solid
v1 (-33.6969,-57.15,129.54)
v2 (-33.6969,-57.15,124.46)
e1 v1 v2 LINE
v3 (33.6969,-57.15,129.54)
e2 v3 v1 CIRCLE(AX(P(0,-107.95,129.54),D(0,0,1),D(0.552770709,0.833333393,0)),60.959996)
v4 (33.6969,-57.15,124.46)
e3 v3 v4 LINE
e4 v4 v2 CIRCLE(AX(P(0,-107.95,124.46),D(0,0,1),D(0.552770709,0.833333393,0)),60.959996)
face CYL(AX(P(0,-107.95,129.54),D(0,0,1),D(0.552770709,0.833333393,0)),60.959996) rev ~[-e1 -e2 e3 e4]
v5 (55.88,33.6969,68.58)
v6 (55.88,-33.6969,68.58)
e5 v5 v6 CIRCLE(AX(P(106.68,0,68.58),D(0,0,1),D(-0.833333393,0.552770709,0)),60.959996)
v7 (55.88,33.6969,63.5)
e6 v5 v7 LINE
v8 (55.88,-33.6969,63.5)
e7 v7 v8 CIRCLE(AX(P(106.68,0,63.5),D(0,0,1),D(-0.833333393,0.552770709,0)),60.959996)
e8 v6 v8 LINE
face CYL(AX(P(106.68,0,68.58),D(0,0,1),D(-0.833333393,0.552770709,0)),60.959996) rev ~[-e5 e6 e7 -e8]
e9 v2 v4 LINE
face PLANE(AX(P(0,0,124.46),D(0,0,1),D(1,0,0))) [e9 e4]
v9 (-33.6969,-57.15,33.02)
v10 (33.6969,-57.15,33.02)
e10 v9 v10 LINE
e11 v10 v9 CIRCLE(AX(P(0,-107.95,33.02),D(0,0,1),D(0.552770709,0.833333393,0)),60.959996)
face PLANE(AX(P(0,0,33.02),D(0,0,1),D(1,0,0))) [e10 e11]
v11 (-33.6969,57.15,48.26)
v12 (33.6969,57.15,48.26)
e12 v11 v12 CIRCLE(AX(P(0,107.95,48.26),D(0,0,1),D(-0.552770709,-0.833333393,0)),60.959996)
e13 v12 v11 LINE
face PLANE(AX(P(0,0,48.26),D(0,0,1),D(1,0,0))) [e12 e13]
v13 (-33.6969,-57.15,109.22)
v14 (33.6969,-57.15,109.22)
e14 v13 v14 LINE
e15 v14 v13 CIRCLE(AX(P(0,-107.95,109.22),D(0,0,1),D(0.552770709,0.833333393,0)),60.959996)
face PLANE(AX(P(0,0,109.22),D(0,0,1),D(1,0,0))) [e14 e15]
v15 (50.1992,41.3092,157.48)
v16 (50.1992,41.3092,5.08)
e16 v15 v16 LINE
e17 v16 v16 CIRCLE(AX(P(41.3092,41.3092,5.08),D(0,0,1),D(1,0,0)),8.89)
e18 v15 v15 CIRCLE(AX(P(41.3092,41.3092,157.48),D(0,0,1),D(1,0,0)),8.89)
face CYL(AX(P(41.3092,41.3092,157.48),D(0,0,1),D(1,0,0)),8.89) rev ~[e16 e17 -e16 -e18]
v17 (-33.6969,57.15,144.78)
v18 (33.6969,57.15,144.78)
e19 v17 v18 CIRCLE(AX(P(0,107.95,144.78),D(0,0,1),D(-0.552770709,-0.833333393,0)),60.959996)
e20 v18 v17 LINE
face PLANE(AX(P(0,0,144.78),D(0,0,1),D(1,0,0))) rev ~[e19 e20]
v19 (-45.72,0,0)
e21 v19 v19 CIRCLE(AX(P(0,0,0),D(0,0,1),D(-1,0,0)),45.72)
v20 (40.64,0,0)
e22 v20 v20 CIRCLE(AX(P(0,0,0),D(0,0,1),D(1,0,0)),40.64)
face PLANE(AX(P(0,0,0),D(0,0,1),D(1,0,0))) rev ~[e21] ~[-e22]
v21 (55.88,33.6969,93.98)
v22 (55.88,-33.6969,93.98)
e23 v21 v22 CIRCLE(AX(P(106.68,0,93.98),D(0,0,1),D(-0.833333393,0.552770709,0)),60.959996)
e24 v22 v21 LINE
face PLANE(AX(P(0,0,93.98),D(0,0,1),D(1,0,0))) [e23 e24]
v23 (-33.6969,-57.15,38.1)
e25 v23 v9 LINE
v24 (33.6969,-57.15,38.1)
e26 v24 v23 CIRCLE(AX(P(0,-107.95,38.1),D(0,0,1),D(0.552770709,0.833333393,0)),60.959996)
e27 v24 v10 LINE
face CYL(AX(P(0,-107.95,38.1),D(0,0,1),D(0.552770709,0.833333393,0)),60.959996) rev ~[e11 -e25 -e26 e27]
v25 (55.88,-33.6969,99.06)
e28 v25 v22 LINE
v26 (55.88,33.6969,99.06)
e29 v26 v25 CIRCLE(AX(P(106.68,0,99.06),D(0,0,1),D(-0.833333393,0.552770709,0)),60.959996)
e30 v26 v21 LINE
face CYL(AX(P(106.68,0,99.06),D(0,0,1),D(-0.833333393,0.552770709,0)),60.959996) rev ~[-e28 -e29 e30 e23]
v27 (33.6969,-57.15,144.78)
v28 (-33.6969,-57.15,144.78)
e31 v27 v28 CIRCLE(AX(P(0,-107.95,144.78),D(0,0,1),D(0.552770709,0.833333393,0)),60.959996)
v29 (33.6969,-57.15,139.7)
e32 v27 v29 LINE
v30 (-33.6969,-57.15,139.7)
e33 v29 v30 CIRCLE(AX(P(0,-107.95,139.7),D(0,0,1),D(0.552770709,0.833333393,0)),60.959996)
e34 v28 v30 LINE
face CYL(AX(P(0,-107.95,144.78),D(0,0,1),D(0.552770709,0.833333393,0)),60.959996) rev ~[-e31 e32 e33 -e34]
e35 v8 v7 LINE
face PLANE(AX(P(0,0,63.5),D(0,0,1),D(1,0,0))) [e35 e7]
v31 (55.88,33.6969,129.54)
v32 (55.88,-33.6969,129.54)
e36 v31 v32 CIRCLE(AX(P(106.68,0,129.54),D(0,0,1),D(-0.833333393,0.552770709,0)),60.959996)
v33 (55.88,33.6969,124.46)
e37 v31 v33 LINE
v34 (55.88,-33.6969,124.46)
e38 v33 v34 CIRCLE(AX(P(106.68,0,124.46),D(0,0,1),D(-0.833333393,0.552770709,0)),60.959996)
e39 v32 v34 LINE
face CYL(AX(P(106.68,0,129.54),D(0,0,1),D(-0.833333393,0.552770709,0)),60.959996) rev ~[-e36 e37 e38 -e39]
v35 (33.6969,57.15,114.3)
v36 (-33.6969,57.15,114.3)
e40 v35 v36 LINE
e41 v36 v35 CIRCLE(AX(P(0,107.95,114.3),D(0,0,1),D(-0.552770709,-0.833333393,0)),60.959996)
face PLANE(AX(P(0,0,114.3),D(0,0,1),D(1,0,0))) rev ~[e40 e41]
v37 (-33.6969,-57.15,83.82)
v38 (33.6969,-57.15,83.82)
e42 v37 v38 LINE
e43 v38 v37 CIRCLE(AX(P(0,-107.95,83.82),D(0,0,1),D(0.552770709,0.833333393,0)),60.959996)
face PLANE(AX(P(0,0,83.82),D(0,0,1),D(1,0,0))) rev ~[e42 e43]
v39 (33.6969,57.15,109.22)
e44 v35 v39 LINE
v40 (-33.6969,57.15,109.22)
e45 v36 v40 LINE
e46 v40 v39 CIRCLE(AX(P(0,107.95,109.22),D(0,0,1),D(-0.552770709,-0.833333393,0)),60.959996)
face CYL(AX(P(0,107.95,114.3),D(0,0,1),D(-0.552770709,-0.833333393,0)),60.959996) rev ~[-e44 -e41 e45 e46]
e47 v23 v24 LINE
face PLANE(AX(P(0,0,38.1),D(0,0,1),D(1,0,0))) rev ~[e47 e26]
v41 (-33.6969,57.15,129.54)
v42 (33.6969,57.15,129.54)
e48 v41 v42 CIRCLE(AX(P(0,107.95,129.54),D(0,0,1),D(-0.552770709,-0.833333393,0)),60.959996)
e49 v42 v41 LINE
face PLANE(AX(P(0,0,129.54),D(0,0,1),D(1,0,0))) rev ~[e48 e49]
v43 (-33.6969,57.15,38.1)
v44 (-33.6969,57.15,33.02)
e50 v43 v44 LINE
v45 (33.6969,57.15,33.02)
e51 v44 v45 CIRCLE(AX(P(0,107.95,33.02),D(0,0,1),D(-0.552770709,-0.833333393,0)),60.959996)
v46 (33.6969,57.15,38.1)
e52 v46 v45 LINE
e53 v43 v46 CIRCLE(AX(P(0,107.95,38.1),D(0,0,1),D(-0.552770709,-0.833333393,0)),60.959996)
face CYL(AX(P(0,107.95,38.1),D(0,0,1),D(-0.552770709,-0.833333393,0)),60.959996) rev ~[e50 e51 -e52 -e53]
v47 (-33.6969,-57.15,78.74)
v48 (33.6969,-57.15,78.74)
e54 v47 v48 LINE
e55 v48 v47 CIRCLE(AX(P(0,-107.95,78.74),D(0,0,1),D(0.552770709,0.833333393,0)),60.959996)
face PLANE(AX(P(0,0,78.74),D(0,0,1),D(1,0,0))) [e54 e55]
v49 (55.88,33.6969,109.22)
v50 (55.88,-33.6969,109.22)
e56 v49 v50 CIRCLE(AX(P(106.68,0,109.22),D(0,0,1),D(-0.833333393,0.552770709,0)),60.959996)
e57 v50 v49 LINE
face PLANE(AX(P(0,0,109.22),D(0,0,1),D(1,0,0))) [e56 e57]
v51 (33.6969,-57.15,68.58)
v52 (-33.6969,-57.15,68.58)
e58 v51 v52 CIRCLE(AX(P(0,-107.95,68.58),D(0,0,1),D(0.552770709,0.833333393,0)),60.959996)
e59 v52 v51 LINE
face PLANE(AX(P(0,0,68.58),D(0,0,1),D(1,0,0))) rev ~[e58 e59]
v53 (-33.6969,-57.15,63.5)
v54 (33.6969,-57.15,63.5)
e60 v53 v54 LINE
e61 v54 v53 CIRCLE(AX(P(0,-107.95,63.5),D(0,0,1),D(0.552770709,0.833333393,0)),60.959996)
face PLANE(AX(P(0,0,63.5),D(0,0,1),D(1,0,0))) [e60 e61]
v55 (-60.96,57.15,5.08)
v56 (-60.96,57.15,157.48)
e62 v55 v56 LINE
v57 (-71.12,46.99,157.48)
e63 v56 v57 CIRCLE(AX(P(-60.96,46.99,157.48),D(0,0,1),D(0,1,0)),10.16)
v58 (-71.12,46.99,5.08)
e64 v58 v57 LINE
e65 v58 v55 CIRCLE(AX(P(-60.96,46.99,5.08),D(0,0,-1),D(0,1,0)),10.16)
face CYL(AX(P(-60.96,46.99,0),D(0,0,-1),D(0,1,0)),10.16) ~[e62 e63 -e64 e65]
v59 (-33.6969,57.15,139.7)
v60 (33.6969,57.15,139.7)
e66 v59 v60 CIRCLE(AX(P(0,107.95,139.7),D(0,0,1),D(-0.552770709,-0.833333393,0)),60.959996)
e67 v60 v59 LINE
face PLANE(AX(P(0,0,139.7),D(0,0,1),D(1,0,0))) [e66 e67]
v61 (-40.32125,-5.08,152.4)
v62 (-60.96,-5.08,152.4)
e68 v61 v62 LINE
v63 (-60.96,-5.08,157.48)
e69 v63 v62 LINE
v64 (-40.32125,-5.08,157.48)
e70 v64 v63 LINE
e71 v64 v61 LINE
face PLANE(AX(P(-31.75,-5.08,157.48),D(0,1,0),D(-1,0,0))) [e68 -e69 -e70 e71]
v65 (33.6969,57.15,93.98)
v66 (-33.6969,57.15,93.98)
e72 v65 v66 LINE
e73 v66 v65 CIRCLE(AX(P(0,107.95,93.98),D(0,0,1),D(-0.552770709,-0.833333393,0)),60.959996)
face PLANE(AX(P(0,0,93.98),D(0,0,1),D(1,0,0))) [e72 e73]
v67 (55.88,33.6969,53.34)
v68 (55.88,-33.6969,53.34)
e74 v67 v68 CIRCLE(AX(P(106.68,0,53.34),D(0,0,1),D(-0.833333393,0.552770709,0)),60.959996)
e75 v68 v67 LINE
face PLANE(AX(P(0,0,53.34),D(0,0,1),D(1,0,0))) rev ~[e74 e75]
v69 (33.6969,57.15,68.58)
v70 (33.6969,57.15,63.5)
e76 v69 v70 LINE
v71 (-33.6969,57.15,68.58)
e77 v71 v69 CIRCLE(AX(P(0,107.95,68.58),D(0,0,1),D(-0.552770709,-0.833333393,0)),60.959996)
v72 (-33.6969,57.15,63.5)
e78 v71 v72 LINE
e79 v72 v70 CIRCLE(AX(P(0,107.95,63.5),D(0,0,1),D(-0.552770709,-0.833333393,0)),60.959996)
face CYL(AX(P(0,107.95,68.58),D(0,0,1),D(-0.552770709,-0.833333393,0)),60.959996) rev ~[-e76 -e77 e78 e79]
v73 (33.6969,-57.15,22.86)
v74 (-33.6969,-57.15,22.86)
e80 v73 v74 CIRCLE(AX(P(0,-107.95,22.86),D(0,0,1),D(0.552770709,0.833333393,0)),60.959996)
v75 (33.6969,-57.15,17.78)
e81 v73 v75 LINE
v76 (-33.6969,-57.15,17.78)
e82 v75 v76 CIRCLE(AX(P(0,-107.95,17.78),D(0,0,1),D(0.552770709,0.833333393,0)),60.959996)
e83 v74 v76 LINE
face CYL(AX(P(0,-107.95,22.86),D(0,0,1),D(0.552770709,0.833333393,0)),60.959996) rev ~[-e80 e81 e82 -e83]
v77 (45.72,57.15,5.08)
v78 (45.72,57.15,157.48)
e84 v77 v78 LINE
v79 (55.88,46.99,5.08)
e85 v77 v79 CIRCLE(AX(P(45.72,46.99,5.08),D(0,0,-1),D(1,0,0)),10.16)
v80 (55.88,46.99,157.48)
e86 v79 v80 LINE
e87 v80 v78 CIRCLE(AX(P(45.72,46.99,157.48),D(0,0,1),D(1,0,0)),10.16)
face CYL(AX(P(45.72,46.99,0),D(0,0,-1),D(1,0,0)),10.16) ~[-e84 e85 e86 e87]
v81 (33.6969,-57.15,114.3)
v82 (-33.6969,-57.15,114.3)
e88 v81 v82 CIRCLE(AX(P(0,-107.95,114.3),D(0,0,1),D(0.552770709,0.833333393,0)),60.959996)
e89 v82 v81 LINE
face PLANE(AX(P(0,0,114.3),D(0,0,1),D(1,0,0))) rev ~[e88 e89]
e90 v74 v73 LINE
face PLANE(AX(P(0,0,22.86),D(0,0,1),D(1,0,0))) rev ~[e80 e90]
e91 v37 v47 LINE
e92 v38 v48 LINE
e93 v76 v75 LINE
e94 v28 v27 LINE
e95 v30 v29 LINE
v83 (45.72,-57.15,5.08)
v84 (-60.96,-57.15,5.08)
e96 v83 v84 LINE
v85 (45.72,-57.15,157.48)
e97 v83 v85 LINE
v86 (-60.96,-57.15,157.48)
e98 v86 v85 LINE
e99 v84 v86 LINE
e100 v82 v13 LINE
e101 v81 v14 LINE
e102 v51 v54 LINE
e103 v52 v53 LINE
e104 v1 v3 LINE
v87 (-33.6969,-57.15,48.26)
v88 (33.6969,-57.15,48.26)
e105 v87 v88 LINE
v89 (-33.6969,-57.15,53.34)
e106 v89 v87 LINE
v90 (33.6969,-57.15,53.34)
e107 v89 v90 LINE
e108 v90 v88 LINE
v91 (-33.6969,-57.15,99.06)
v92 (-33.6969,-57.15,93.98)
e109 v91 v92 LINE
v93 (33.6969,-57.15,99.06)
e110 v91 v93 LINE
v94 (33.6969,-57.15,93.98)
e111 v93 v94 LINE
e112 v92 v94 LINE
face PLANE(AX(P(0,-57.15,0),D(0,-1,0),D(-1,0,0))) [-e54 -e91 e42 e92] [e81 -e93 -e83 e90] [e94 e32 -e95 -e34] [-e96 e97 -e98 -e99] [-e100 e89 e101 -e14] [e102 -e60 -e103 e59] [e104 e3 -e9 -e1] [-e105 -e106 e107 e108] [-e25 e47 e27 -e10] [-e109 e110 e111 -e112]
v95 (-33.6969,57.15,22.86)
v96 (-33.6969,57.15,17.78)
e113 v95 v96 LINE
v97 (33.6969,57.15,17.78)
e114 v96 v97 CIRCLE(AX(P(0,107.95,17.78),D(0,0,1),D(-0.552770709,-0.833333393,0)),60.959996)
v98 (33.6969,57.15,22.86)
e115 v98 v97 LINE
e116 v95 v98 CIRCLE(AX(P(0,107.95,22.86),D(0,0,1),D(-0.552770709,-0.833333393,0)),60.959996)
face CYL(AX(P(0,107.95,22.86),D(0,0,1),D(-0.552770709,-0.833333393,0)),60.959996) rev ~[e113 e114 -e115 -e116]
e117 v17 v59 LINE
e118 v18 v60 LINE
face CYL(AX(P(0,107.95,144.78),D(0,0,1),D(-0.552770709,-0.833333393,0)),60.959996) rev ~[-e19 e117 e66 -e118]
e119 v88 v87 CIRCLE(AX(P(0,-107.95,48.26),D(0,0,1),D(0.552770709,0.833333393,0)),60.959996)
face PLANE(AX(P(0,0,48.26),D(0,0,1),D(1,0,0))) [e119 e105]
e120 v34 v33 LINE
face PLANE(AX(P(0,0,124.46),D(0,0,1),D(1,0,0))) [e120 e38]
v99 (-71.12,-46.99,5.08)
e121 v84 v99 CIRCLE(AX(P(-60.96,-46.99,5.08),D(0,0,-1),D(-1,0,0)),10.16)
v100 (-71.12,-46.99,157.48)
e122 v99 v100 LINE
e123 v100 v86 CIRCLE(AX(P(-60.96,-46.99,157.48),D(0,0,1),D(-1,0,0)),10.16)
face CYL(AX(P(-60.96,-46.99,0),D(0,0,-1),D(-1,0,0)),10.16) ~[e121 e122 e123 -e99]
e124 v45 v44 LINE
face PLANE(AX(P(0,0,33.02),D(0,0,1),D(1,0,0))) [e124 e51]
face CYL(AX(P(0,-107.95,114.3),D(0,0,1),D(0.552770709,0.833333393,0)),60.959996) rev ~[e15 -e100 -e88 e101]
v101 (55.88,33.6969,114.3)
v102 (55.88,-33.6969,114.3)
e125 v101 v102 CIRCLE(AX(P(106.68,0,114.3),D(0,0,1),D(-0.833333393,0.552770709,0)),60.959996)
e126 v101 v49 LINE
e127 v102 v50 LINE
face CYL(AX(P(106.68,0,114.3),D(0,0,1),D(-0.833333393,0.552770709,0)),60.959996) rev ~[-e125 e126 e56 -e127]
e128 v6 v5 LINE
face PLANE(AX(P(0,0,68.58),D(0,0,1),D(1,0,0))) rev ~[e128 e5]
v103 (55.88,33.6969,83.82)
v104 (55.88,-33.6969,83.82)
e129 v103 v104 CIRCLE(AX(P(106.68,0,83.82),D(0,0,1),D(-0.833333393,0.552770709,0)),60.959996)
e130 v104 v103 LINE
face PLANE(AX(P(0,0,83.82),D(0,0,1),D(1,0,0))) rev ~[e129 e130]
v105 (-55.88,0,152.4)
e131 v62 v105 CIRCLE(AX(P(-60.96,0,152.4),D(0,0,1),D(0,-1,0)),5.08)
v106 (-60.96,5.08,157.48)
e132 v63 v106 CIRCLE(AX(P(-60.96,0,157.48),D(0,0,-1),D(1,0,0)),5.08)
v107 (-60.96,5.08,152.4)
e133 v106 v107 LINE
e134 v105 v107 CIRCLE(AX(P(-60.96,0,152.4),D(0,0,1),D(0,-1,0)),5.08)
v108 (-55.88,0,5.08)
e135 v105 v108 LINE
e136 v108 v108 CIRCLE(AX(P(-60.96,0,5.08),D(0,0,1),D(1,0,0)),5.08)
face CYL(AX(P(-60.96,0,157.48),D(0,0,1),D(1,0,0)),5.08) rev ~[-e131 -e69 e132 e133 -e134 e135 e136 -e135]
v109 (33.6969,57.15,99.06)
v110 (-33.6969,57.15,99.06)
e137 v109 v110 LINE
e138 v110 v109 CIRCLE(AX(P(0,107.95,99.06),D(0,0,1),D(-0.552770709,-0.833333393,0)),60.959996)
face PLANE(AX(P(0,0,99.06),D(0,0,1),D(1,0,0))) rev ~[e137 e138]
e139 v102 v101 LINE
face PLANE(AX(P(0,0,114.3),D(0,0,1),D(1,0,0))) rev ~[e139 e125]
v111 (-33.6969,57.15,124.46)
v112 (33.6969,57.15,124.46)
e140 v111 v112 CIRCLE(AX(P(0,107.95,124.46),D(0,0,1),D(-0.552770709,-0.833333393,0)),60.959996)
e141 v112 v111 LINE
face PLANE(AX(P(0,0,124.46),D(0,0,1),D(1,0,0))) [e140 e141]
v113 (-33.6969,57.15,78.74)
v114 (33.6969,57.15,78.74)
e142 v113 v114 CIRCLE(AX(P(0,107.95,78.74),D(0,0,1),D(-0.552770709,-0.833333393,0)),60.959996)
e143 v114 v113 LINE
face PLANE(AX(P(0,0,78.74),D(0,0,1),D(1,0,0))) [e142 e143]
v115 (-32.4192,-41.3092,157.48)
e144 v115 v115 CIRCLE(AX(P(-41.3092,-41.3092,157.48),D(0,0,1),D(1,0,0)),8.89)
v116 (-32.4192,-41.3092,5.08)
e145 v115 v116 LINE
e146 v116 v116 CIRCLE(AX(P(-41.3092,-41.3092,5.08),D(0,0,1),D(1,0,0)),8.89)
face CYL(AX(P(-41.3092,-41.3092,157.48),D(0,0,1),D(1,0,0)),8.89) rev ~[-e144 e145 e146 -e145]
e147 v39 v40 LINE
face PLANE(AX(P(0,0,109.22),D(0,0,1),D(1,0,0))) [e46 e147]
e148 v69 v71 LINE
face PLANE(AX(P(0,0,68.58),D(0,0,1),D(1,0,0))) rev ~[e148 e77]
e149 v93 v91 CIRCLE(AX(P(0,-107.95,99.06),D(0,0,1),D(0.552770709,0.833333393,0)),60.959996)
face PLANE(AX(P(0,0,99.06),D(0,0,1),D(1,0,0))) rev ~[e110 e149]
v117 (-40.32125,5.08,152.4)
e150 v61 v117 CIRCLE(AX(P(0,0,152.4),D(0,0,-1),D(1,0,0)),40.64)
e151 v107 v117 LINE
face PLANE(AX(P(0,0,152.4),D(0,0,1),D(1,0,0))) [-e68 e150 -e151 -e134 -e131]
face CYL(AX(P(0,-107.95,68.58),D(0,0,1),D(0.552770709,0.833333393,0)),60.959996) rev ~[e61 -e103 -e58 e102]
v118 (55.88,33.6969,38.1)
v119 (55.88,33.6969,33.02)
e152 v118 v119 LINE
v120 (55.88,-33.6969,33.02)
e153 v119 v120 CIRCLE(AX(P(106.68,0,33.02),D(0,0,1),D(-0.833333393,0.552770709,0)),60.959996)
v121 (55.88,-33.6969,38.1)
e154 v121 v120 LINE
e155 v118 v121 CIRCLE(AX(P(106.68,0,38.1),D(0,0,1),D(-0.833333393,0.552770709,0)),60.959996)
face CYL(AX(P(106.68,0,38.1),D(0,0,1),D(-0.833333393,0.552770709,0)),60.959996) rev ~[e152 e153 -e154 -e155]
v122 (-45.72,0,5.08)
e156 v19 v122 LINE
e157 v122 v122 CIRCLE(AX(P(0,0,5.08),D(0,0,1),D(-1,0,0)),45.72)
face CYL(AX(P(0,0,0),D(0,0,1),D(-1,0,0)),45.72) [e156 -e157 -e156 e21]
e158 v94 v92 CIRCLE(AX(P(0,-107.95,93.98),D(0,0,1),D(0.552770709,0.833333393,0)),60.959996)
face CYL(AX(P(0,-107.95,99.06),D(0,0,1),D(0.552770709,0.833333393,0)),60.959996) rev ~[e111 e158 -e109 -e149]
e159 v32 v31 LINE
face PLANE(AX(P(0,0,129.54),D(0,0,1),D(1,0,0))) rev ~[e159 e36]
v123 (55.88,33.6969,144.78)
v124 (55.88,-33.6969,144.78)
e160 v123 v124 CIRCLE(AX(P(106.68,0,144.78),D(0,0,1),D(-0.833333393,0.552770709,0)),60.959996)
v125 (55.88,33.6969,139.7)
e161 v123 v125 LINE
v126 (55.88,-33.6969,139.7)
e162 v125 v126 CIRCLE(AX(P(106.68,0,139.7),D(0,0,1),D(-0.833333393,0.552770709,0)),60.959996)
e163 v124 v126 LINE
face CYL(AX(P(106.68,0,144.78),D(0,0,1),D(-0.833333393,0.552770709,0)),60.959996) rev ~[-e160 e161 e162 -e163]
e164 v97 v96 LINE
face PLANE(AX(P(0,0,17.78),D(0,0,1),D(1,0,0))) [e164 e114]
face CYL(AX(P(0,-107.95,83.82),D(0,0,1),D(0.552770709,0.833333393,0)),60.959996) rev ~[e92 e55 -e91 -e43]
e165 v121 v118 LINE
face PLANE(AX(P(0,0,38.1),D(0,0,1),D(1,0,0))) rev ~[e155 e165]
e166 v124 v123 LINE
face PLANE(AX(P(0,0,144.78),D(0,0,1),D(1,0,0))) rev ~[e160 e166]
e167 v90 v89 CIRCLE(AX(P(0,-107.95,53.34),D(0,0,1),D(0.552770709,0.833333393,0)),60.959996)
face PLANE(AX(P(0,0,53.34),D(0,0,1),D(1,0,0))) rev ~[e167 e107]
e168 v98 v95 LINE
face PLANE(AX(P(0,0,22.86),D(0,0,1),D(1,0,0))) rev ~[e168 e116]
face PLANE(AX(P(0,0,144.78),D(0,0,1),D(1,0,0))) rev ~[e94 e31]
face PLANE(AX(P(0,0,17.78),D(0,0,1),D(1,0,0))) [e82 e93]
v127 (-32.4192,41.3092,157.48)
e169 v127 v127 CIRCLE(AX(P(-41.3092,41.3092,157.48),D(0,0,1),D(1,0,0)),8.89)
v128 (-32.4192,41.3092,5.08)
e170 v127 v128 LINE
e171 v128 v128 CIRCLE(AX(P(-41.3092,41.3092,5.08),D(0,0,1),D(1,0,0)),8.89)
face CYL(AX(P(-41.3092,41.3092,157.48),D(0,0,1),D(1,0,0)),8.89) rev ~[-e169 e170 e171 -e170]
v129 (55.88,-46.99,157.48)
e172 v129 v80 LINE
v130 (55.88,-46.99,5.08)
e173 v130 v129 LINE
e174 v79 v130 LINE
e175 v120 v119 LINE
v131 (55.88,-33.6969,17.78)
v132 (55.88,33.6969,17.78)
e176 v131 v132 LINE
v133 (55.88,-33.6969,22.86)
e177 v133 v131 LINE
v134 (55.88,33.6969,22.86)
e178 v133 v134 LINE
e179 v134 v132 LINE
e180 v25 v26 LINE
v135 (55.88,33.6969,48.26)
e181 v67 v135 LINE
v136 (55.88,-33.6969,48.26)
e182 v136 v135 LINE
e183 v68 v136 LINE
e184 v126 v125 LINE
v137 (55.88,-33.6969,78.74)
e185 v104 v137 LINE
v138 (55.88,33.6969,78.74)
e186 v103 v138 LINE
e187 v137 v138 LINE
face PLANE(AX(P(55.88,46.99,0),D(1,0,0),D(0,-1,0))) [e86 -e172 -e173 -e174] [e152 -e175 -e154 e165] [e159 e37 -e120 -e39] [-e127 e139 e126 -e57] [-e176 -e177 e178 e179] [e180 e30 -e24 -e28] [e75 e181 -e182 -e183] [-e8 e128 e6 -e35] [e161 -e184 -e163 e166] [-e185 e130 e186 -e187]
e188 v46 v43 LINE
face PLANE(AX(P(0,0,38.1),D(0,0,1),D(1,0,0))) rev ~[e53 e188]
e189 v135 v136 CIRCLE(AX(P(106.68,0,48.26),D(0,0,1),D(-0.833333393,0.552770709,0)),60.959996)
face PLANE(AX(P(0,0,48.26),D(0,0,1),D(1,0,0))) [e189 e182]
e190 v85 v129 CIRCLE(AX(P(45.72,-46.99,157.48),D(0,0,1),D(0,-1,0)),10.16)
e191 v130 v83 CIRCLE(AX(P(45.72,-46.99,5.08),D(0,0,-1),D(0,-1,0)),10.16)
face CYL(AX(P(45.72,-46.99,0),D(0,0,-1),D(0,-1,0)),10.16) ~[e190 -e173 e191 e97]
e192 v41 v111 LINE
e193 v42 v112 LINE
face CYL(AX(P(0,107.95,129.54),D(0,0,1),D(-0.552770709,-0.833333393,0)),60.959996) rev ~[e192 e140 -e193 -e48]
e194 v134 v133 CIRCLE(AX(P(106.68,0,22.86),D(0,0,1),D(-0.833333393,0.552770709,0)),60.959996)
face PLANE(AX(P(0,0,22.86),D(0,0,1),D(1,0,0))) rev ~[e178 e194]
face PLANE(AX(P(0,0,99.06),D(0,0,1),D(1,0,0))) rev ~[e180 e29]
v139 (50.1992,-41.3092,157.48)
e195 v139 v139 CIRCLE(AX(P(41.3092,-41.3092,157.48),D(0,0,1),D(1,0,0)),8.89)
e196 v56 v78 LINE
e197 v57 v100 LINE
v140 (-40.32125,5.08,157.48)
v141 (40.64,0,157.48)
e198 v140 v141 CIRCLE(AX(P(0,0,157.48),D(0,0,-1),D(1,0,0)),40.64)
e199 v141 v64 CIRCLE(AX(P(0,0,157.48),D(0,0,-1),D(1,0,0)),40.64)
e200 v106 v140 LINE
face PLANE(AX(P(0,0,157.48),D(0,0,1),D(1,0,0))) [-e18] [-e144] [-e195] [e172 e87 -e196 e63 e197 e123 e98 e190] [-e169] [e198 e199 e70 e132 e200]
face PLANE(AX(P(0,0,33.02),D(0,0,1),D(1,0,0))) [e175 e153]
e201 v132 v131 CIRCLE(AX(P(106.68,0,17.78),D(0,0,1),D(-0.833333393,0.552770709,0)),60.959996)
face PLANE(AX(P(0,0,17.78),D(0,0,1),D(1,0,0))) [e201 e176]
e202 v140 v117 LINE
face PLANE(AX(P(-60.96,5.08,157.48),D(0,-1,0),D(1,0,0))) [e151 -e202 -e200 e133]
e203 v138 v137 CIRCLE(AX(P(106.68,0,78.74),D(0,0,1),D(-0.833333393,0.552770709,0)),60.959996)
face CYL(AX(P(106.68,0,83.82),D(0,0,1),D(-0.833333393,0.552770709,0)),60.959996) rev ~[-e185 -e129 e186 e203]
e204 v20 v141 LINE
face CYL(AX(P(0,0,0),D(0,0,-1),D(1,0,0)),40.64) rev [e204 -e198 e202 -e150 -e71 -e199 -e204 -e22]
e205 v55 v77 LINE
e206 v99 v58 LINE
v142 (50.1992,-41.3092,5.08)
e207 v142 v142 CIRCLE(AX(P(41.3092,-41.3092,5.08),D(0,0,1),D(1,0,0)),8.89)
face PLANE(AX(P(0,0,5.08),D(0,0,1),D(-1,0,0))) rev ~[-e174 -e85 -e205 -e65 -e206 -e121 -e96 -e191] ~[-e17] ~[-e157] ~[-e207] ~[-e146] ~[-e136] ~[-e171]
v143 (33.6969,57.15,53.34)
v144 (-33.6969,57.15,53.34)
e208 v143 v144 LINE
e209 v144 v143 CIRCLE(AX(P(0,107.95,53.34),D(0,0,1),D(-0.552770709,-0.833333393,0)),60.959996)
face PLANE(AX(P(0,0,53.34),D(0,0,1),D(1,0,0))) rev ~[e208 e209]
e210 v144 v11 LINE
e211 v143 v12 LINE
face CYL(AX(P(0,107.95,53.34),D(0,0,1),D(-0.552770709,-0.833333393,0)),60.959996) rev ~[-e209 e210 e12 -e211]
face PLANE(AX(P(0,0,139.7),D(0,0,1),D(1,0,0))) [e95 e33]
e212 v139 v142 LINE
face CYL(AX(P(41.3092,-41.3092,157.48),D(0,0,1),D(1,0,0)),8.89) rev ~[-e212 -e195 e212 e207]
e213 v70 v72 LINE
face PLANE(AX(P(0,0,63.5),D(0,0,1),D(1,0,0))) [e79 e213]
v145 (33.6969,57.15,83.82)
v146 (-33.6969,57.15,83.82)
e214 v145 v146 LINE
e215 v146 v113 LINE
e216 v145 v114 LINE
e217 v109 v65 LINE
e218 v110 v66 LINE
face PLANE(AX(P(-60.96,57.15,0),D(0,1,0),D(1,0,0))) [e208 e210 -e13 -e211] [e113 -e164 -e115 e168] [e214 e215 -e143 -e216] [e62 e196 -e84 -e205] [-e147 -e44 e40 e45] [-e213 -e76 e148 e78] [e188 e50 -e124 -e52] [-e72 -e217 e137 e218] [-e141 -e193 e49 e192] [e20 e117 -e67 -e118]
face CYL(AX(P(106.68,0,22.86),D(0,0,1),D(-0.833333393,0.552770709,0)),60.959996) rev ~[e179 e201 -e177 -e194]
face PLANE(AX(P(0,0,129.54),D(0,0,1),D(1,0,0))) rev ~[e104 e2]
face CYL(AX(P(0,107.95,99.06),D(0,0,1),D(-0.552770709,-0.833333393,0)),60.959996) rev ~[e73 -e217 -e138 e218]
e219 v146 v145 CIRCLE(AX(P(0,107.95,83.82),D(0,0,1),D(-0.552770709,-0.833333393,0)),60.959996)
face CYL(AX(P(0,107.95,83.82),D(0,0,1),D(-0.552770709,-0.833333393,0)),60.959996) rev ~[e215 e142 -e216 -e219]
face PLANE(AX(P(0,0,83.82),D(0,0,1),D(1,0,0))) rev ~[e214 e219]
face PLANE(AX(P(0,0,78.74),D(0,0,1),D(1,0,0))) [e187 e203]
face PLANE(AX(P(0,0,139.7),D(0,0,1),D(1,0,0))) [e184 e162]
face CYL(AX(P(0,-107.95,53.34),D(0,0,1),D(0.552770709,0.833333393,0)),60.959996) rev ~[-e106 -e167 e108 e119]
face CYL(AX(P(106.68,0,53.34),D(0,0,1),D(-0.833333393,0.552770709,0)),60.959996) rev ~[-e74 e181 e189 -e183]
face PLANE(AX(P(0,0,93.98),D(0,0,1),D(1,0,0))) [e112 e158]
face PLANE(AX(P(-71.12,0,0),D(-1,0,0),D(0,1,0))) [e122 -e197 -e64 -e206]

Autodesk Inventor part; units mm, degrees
ref_plane "YZ Plane" through (0, 0, 0) normal (1, 0, 0) x (0, 1, 0)
ref_plane "XZ Plane" through (0, 0, 0) normal (0, 1, 0) x (-1, 0, 0)
ref_plane "XY Plane" through (0, 0, 0) normal (0, 0, 1) x (1, 0, 0)
sketch "Sketch1" plane through (0, 0, 0) normal (0, 0, 1) x (1, 0, 0)
  line L0 (-60.96, 57.15) -> (45.72, 57.15)
  line L1 (55.88, 46.99) -> (55.88, -46.99)
  line L2 (45.72, -57.15) -> (-60.96, -57.15)
  line L3 (-71.12, -46.99) -> (-71.12, 46.99)
  line L4 (-99.4659, 0) -> (84.2259, 0) projected
  line L5 (0, -82.9559) -> (0, 82.9559) projected
  arc A0 (-60.96, 57.15) -> (-71.12, 46.99) centre (-60.96, 46.99) ccw
  arc A1 (55.88, 46.99) -> (45.72, 57.15) centre (45.72, 46.99) ccw
  arc A2 (45.72, -57.15) -> (55.88, -46.99) centre (45.72, -46.99) ccw
  arc A3 (-71.12, -46.99) -> (-60.96, -57.15) centre (-60.96, -46.99) ccw
  circle A4 centre (0, 0) radius 40.64
  point P0 (55.88, -57.15)
  point P1 (55.88, 57.15)
  point P2 (-71.12, -57.15)
  point P3 (-71.12, 0)
  dimension "d0" = 127
  dimension "d1" = 114.3
  dimension "d2" = 55.88
  dimension "d3" = 10.16
  dimension "d6" = 81.28
extrude "Extrusion1" add sketch "Sketch1" along normal blind 157.48
extrude "Extrusion2" cut sketch "Sketch1" along normal blind 157.48 contours A4 L4 L5 | L5 L4 A4 | L5 A4 L4 | L4 A4 L5
sketch "Sketch2" plane through (0, 0, 157.48) normal (0, 0, 1) x (1, 0, 0)
  circle A0 centre (0, 0) radius 58.42 construction
  line L0 (0, 0) -> (45.72, 45.72) construction
  line L1 (0, 0) -> (64.6578, 0) construction
  circle A1 centre (41.3092, 41.3092) radius 8.89
  circle A2 centre (-41.3092, 41.3092) radius 8.89
  circle A3 centre (-41.3092, -41.3092) radius 8.89
  circle A4 centre (41.3092, -41.3092) radius 8.89
  dimension "d9" = 116.84
  dimension "d10" = 45
  dimension "d11" = 17.78
  dimension "d14" = 360
extrude "Extrusion3" cut sketch "Sketch2" against normal through all
sketch "Sketch3" plane through (0, 0, 157.48) normal (0, 0, 1) x (1, 0, 0)
  circle A0 centre (-60.96, 0) radius 5.08
  line L0 (-60.96, 5.08) -> (-31.75, 5.08)
  line L1 (-31.75, 5.08) -> (-31.75, -5.08)
  line L2 (-31.75, -5.08) -> (-60.96, -5.08)
  line L3 (-96.52, 0) -> (81.28, 0) projected
  point P0 (0, 0)
  point P1 (-31.75, 0)
  dimension "d18" = 10.16
  dimension "d19" = 60.96
  dimension "d20" = 10.16
extrude "Extrusion4" cut sketch "Sketch3" against normal through all contours L3 A0 | A0 L3
extrude "Extrusion5" cut sketch "Sketch3" against normal blind 5.08 contours L3 L1 L2 A0 | A0 L0 L1 L3
sketch "Sketch4" plane through (0, 0, 0) normal (0, 1, 0) x (-1, 0, 0)
  line L0 (45.72, 5.08) -> (-45.72, 5.08)
  line L1 (-45.72, 5.08) -> (-45.72, 0)
  line L2 (-45.72, 0) -> (45.72, 0)
  line L3 (45.72, 0) -> (45.72, 5.08)
  line L4 (0, -49.022) -> (0, 191.897) projected
  line L5 (-45.72, 0) -> (-55.88, 0) projected
  line L6 (60.96, 0) -> (-45.72, 0) projected
  line L7 (-45.72, 0) -> (-45.72, 157.48) projected
  line L8 (60.96, 157.48) -> (-45.72, 157.48) projected
  line L9 (60.96, 0) -> (60.96, 157.48) projected
  line L10 (40.64, 152.4) -> (55.88, 152.4) projected
  line L11 (55.88, 152.4) -> (55.88, 0) projected
  line L12 (55.88, 0) -> (40.64, 0) projected
  line L13 (40.64, 0) -> (40.64, 152.4) projected
  line L14 (71.12, 157.48) -> (71.12, 0) projected
  line L15 (71.12, 0) -> (66.04, 0) projected
  line L16 (66.04, 0) -> (66.04, 157.48) projected
  line L17 (66.04, 157.48) -> (71.12, 157.48) projected
  line L18 (-55.88, 0) -> (-55.88, 157.48) projected
  line L19 (-55.88, 157.48) -> (-40.64, 157.48) projected
  line L20 (-40.64, 157.48) -> (-40.64, 0) projected
  line L21 (-40.64, 0) -> (-55.88, 0) projected
  line L22 (45.72, 0) -> (96.52, 0)
  line L23 (96.52, 0) -> (96.52, 5.08)
  line L24 (96.52, 5.08) -> (45.72, 5.08)
  line L25 (45.72, 5.08) -> (45.72, 0)
  point P0 (0, 0)
  point P1 (0, 5.08)
  dimension "d25" = 91.44
  dimension "d26" = 5.08
  dimension "d27" = 50.8
revolve "Revolution1" cut sketch "Sketch4" angle 360 about axis through (0, 0, -10) along (0, 0, 1) contours L24 L11 L6 L3 | L24 L9 L6 L11 | L24 L16 L22 L9 | L24 L14 L15 L16 | L24 L23 L22 L14
ref_plane "Work Plane1" through (0, 0, 144.78) normal (0, 0, 1) x (1, 0, 0)
sketch "Sketch5" plane through (0, 0, 144.78) normal (0, 0, 1) x (1, 0, 0)
  arc A0 (-60.96, 57.15) -> (-71.12, 46.99) centre (-60.96, 46.99) ccw
  line L0 (-60.96, 57.15) -> (45.72, 57.15)
  arc A1 (55.88, 46.99) -> (45.72, 57.15) centre (45.72, 46.99) ccw
  line L1 (55.88, 46.99) -> (55.88, -46.99)
  arc A2 (45.72, -57.15) -> (55.88, -46.99) centre (45.72, -46.99) ccw
  line L2 (45.72, -57.15) -> (-60.96, -57.15)
  arc A3 (-71.12, -46.99) -> (-60.96, -57.15) centre (-60.96, -46.99) ccw
  line L3 (-71.12, -46.99) -> (-71.12, 46.99)
  circle A4 centre (-60.96, 0) radius 5.08
  circle A5 centre (41.3092, -41.3092) radius 8.89
  circle A6 centre (-41.3092, -41.3092) radius 8.89
  circle A7 centre (41.3092, 41.3092) radius 8.89
  circle A8 centre (-41.3092, 41.3092) radius 8.89
  circle A9 centre (0, 0) radius 40.64
sketch "Sketch6" plane through (0, 0, 144.78) normal (0, 0, 1) x (1, 0, 0)
  arc A0 (55.88, 33.6969) -> (55.88, -33.6969) centre (106.68, 0) ccw
  line L0 (55.88, -46.99) -> (55.88, 46.99) projected
  arc A1 (-33.6969, 57.15) -> (33.6969, 57.15) centre (0, 107.95) ccw
  line L1 (45.72, 57.15) -> (-60.96, 57.15) projected
  arc A2 (33.6969, -57.15) -> (-33.6969, -57.15) centre (0, -107.95) ccw
  line L2 (-60.96, -57.15) -> (45.72, -57.15) projected
  line L3 (-40.3212, -5.08) -> (-60.96, -5.08) projected
  arc A3 (-60.96, 5.08) -> (-60.96, -5.08) centre (-60.96, 0) ccw projected
  line L4 (-60.96, 5.08) -> (-40.3212, 5.08) projected
  arc A4 (-40.3212, -5.08) -> (-40.3212, 5.08) centre (0, 0) ccw projected
  circle A5 centre (41.3092, -41.3092) radius 8.89 projected
  circle A6 centre (-41.3092, -41.3092) radius 8.89 projected
  circle A7 centre (41.3092, 41.3092) radius 8.89 projected
  circle A8 centre (-41.3092, 41.3092) radius 8.89 projected
  line L5 (55.88, -46.99) -> (55.88, 46.99) projected
  arc A9 (55.88, 46.99) -> (45.72, 57.15) centre (45.72, 46.99) ccw projected
  line L6 (45.72, 57.15) -> (-60.96, 57.15) projected
  arc A10 (-60.96, 57.15) -> (-71.12, 46.99) centre (-60.96, 46.99) ccw projected
  line L7 (-71.12, 46.99) -> (-71.12, -46.99) projected
  arc A11 (-71.12, -46.99) -> (-60.96, -57.15) centre (-60.96, -46.99) ccw projected
  line L8 (-60.96, -57.15) -> (45.72, -57.15) projected
  arc A12 (45.72, -57.15) -> (55.88, -46.99) centre (45.72, -46.99) ccw projected
  arc A13 (-60.96, 57.15) -> (-71.12, 46.99) centre (-60.96, 46.99) ccw projected
  line L9 (-60.96, 57.15) -> (45.72, 57.15) projected
  arc A14 (55.88, 46.99) -> (45.72, 57.15) centre (45.72, 46.99) ccw projected
  line L10 (55.88, 46.99) -> (55.88, -46.99) projected
  arc A15 (45.72, -57.15) -> (55.88, -46.99) centre (45.72, -46.99) ccw projected
  line L11 (45.72, -57.15) -> (-60.96, -57.15) projected
  arc A16 (-71.12, -46.99) -> (-60.96, -57.15) centre (-60.96, -46.99) ccw projected
  line L12 (-71.12, -46.99) -> (-71.12, 46.99) projected
  circle A17 centre (-60.96, 0) radius 5.08 projected
  circle A18 centre (41.3092, -41.3092) radius 8.89 projected
  circle A19 centre (-41.3092, -41.3092) radius 8.89 projected
  circle A20 centre (41.3092, 41.3092) radius 8.89 projected
  circle A21 centre (-41.3092, 41.3092) radius 8.89 projected
  circle A22 centre (0, 0) radius 40.64 projected
  dimension "d32" = 121.92
  dimension "d33" = 50.8
  dimension "d34" = 121.92
  dimension "d35" = 50.8
  dimension "d36" = 121.92
  dimension "d37" = 50.8
extrude "Extrusion6" cut sketch "Sketch6" against normal blind 5.08 contours L0 A0 | A1 L1 | L2 A2
pattern_linear "Rectangular Pattern1" count 9 spacing 15.24 along (0, 0, -1) of "Extrusion6"
equation "\"BendRadius\" = Thickness"
equation "\"BendReliefWidth\" = Thickness"
equation "\"BendReliefDepth\" = 0.5 * Thickness"
equation "\"CornerReliefSize\" = 4 * Thickness"
equation "\"MinimumRemnant\" = 2 * Thickness"
equation "\"TransitionRadius\" = BendRadius"
equation "\"JacobiRadiusSize\" = BendRadius"
equation "\"GapSize\" = Thickness"
equation "\"Thickness\" = 3.048"
properties part number "cylinder" material "Aluminum 6061"
